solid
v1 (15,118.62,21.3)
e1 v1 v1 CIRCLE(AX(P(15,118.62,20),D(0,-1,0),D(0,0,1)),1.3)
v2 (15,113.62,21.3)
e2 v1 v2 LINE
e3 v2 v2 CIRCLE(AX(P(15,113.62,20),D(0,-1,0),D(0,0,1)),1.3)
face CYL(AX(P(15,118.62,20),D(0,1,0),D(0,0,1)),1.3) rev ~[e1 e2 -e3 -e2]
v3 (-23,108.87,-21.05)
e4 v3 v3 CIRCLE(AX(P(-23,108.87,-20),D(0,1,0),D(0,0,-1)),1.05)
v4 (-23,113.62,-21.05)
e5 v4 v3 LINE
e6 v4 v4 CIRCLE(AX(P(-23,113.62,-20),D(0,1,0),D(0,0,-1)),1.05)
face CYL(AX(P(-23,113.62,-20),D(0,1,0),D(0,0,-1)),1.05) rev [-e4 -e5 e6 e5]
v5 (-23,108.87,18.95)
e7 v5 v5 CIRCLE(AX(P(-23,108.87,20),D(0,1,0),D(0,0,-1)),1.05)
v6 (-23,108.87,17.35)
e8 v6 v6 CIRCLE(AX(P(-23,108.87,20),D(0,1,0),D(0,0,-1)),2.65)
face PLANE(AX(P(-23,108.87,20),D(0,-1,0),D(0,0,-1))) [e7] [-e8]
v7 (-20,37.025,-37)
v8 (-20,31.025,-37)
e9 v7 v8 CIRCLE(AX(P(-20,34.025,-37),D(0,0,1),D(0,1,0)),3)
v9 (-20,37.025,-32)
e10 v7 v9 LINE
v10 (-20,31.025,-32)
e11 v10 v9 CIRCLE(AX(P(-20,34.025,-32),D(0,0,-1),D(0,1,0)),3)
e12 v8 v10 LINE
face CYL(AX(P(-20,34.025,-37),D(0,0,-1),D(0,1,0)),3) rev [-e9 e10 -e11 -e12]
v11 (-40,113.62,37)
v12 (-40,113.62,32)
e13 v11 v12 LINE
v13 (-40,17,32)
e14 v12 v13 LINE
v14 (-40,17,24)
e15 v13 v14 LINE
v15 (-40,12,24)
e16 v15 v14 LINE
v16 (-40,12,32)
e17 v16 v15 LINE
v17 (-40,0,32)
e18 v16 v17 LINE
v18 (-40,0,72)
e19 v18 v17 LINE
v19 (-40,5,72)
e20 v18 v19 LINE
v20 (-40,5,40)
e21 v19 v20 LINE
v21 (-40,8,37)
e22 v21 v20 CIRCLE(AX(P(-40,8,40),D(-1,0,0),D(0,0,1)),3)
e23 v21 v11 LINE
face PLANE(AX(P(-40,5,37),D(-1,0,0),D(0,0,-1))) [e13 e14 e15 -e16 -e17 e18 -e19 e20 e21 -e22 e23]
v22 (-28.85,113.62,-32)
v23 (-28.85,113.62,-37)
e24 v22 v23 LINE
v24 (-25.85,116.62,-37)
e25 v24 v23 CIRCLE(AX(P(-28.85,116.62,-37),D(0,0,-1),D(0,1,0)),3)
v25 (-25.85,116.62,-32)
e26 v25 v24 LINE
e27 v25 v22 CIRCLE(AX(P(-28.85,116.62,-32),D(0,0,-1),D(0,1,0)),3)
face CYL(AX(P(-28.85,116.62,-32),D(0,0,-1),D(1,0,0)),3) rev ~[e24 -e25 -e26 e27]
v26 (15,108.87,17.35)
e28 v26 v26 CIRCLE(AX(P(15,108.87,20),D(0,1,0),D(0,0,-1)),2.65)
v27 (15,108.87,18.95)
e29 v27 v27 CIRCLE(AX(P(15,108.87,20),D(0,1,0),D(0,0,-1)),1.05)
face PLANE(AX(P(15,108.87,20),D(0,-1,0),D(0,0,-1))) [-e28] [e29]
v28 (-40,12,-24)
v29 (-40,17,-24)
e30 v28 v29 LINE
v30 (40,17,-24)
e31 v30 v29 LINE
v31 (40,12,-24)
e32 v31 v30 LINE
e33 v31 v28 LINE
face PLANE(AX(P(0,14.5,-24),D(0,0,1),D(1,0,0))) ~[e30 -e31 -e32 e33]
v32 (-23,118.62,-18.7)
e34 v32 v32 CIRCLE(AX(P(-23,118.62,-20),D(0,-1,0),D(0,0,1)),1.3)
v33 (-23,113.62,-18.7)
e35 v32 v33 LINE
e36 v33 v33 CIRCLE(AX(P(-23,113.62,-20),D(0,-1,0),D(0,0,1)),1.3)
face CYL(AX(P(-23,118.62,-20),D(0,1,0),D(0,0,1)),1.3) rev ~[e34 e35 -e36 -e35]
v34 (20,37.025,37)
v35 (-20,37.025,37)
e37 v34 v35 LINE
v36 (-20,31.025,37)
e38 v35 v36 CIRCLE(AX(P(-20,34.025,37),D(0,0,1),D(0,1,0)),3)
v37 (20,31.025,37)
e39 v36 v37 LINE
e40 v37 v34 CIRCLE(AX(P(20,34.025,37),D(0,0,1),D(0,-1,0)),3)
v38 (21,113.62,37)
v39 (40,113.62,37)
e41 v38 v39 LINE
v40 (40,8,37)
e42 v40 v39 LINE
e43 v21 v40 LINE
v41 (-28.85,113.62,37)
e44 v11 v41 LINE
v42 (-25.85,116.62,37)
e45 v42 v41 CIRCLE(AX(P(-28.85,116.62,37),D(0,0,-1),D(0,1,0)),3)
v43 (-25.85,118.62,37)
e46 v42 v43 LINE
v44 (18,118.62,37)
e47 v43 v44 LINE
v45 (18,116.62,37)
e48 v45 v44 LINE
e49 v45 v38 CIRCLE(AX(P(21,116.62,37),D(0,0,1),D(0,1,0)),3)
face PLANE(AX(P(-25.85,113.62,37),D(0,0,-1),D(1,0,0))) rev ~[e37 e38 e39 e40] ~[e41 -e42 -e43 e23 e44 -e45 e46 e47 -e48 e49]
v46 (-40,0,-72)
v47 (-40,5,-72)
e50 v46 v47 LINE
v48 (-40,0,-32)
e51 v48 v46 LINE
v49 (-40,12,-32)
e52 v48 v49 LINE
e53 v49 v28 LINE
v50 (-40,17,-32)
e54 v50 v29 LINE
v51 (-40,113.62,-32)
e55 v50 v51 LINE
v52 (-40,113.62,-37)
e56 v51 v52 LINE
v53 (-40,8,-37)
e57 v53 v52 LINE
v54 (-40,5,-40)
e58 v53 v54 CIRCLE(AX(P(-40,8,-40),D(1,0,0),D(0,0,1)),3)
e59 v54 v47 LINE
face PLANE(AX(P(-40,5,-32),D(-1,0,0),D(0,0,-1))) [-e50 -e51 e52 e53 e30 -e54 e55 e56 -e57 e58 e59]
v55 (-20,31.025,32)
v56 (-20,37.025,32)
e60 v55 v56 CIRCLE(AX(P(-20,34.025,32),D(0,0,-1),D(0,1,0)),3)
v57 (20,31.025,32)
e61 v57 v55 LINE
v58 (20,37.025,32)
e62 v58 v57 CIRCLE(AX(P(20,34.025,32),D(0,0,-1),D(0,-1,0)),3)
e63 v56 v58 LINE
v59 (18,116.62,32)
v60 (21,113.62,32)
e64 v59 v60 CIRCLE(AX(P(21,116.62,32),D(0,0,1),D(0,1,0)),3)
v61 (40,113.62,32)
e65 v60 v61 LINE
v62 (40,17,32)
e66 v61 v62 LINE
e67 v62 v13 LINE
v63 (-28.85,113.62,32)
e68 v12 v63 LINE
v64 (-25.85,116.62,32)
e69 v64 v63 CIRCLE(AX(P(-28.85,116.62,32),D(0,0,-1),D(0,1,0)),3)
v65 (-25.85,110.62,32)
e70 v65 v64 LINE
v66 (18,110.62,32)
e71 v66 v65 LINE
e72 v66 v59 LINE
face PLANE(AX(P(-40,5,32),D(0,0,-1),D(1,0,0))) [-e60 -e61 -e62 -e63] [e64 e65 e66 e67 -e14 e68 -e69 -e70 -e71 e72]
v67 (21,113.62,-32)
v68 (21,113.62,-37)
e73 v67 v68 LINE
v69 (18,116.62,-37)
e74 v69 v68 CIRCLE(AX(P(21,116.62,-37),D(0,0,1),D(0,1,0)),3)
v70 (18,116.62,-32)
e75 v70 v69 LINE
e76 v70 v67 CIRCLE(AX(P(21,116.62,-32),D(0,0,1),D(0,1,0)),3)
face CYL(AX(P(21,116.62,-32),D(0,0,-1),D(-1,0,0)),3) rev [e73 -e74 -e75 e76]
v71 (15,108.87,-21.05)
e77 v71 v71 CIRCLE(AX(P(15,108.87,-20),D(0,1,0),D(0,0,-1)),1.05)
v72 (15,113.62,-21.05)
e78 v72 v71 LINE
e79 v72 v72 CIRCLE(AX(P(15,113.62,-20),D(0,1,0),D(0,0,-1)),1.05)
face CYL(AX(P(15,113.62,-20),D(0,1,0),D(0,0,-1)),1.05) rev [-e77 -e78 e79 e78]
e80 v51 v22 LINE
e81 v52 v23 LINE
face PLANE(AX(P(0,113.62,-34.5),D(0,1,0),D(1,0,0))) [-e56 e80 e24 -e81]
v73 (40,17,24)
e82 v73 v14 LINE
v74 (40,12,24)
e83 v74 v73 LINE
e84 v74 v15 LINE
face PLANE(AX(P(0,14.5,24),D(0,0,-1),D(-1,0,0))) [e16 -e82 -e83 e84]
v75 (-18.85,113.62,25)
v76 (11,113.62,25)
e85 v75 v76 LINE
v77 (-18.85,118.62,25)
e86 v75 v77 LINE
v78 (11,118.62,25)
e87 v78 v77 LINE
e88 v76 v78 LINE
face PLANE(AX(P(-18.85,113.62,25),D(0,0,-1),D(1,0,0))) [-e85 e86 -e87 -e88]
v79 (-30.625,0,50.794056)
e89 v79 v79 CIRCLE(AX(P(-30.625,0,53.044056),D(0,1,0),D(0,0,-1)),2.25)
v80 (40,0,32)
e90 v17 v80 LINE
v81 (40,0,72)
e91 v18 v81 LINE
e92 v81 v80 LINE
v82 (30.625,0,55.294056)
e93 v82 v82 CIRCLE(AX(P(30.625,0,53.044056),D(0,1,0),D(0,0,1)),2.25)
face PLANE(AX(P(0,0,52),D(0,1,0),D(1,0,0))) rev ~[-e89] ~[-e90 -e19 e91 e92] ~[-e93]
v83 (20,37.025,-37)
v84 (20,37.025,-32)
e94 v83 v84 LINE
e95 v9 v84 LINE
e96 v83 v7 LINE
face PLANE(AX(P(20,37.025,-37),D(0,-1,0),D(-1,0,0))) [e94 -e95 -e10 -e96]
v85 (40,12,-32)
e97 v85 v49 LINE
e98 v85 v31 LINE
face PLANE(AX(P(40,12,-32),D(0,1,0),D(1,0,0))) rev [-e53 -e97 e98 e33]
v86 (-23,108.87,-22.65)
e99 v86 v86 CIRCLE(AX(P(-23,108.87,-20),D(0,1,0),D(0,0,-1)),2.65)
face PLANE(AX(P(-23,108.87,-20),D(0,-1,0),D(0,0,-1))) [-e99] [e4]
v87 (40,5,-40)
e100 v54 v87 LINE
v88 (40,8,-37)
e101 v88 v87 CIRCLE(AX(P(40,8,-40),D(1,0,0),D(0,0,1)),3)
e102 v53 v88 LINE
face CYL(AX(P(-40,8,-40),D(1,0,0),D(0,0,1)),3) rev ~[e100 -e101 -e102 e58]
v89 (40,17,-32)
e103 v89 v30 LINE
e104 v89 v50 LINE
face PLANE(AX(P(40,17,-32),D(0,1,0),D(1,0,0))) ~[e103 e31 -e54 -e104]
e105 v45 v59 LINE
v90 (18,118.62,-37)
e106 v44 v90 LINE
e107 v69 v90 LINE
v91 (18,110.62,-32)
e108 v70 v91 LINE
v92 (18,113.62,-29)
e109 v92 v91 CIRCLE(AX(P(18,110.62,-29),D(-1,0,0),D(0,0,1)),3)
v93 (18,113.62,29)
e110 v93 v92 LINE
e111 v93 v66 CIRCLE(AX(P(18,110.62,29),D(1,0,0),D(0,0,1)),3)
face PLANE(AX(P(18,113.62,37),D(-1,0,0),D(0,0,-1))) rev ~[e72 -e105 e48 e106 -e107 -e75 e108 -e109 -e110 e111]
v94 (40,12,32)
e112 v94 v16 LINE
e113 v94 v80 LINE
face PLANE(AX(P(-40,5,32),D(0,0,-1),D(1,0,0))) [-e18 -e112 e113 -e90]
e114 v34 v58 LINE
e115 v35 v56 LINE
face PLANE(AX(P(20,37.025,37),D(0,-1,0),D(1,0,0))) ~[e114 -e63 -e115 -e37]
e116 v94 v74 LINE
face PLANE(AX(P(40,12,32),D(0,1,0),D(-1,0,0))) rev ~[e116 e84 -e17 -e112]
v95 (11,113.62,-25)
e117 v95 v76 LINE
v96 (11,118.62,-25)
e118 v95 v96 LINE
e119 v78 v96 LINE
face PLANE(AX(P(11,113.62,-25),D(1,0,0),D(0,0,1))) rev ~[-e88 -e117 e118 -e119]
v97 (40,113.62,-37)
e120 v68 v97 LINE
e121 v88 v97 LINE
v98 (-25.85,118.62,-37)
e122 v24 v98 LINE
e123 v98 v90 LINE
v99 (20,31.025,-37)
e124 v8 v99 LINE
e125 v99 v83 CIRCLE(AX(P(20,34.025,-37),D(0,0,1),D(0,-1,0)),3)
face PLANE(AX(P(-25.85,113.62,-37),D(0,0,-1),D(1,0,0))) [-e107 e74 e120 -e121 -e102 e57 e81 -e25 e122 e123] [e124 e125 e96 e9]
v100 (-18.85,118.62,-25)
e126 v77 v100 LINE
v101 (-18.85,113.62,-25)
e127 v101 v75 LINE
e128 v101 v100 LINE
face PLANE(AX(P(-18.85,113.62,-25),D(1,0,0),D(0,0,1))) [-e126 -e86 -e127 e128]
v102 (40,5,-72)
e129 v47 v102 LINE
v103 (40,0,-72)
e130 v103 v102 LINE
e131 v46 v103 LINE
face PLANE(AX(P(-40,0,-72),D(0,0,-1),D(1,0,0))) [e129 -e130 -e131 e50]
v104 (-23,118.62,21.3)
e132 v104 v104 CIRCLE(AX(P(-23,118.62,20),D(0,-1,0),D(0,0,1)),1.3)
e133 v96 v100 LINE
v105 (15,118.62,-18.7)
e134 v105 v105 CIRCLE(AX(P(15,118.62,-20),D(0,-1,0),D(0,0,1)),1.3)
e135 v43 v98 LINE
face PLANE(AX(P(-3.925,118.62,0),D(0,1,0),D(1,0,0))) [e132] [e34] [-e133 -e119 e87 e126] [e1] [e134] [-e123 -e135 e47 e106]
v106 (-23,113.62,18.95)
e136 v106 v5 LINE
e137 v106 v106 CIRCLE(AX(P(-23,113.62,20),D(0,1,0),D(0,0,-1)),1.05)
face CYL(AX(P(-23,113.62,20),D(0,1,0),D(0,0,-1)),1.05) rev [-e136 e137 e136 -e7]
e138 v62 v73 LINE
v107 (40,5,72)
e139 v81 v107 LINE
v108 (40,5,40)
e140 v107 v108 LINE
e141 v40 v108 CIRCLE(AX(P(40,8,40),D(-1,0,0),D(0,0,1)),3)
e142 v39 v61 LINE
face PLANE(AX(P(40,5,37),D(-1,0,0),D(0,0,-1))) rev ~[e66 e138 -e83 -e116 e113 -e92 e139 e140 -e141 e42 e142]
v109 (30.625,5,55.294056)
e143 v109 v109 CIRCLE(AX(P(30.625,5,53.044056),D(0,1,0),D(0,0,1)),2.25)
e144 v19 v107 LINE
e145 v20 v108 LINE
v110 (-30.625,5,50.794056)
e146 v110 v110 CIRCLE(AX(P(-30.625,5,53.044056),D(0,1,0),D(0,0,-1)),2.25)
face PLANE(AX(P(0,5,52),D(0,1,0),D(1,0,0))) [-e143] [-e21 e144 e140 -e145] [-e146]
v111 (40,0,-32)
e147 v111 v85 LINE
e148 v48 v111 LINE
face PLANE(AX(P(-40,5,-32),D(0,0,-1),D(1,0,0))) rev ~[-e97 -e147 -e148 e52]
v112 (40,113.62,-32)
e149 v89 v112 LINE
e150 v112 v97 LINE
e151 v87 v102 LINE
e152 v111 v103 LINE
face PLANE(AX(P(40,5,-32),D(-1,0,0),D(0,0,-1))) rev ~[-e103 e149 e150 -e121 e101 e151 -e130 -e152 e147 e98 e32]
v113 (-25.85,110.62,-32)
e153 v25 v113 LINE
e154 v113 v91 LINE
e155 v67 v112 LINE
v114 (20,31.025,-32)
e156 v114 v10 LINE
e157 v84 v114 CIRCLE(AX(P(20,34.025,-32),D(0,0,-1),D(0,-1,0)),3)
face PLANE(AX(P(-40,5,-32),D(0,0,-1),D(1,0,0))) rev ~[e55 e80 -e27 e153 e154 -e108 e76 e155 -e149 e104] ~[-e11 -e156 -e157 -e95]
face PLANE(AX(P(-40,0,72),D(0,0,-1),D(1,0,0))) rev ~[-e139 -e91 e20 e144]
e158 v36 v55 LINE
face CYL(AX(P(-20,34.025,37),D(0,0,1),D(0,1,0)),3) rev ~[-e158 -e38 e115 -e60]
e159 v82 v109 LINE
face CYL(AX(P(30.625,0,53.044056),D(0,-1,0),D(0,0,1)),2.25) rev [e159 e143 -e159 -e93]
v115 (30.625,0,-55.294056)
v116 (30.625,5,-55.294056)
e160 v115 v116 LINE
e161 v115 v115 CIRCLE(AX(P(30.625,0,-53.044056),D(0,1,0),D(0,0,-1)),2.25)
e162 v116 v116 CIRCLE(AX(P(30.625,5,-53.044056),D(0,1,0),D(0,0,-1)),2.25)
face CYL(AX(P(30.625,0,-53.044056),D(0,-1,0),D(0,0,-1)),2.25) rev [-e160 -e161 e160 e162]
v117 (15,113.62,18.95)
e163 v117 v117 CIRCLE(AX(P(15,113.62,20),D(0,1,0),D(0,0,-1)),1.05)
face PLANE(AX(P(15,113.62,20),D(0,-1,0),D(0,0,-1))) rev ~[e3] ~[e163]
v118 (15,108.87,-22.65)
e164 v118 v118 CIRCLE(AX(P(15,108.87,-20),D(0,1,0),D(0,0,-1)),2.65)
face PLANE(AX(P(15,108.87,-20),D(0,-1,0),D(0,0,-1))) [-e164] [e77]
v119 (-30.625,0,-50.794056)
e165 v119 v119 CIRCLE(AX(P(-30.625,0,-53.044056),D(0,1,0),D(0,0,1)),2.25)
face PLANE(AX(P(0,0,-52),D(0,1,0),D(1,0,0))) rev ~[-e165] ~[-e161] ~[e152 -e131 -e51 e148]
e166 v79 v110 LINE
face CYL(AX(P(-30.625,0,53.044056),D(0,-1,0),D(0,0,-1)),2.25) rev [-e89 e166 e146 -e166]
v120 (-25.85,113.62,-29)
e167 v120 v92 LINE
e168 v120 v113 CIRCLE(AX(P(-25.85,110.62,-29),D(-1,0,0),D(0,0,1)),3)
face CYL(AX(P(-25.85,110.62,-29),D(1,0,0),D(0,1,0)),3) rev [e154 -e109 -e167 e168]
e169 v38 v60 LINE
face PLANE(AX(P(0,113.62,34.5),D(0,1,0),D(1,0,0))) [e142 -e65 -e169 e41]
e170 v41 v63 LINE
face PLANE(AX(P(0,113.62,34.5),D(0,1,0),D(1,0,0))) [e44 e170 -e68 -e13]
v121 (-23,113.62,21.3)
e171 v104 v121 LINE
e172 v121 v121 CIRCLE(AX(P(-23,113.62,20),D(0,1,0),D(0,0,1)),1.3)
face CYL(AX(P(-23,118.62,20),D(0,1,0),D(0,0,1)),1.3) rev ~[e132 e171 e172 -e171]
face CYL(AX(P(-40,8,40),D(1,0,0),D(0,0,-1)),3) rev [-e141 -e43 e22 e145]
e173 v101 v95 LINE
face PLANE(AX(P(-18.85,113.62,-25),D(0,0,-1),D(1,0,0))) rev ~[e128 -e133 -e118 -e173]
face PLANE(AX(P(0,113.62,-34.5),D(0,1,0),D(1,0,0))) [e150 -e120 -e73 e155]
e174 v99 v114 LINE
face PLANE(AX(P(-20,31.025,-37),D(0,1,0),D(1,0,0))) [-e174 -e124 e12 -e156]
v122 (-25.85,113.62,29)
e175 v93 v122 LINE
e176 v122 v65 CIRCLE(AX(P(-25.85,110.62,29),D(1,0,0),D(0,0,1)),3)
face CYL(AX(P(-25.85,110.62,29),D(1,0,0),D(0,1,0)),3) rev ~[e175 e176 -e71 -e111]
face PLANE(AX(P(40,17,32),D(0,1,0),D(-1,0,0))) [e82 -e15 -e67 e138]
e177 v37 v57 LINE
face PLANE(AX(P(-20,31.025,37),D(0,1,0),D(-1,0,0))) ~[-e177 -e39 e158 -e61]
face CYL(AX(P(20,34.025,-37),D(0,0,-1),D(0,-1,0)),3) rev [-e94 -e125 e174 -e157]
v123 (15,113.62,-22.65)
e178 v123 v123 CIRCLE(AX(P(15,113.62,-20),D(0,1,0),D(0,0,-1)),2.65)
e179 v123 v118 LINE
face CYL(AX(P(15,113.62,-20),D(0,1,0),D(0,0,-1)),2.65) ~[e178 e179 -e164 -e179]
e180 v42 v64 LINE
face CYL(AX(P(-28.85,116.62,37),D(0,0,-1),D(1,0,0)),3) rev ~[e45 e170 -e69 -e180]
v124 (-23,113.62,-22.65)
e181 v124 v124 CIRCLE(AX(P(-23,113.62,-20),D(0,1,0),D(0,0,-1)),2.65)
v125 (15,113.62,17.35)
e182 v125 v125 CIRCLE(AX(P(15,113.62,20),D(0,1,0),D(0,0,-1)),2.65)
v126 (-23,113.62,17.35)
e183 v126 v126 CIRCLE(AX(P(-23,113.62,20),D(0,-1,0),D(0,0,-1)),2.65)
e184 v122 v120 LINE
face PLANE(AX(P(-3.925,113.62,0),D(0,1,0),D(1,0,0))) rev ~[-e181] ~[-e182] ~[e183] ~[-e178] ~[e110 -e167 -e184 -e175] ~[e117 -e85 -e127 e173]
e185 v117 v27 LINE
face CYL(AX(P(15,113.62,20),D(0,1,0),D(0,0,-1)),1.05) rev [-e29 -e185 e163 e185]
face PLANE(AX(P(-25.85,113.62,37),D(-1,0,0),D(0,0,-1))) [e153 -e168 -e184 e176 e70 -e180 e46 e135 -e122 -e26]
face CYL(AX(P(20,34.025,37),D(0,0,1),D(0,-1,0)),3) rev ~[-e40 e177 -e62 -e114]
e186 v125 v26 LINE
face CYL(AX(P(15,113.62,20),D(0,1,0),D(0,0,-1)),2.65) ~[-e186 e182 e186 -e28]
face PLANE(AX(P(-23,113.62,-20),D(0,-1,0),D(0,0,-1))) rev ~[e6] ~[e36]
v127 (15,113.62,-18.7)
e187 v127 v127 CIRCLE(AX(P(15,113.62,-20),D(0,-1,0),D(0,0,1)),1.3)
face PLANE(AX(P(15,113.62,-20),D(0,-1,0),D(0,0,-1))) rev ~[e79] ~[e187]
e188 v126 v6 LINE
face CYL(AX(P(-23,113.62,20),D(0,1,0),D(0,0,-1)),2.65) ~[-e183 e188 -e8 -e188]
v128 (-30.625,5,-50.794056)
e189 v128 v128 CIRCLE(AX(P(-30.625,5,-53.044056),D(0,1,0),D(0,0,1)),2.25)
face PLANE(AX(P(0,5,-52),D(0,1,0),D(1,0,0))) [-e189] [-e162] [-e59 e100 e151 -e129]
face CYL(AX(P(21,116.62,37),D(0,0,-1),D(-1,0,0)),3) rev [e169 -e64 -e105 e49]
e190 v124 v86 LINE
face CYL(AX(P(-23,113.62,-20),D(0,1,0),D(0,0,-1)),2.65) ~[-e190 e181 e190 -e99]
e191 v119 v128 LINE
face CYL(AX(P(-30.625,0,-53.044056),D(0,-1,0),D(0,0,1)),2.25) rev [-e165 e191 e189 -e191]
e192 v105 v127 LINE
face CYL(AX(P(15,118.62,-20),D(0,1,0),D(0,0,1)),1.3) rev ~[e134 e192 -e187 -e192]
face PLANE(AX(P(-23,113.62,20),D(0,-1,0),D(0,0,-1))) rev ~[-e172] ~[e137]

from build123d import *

# Parameters (mm, degrees)
SKETCH1_W             = 80
SKETCH1_H             = 40
SKETCH1_R             = 2.25
BOSS_EXTRUDE1_DEPTH   = 5
BOSS_EXTRUDE1_2_DEPTH = 5
SKETCH2_W             = 80
SKETCH2_H             = 5
BOSS_EXTRUDE2_DEPTH   = 108.62
SKETCH3_W             = 43.85
SKETCH3_H             = 74
BOSS_EXTRUDE3_DEPTH   = 5
SKETCH5_W             = 29.85
SKETCH5_H             = 50
CUT_EXTRUDE2_DEPTH    = 10
CUT_EXTRUDE1_REACH    = 146.412
SKETCH4_R             = 1.3
FILLET1_R             = 3
FILLET2_R             = 3
SKETCH9_R             = 2.65
SKETCH9_R_2           = 1.05
BOSS_EXTRUDE5_DEPTH   = 4.75
SKETCH10_W            = 12
SKETCH10_H            = 6.8
CUT_EXTRUDE4_DEPTH    = 8
SKETCH11_W            = 80
SKETCH11_H            = 5
BOSS_EXTRUDE6_DEPTH   = 8
CUT_EXTRUDE5_REACH    = 167.987


with BuildPart() as part:
    # Sketch1 → Boss-Extrude1 (new body)
    with BuildSketch(Plane(origin=(0, 0, 0), x_dir=(1, 0, 0), z_dir=(0, 1, 0))):
        with Locations((0, 52)):
            Rectangle(SKETCH1_W, SKETCH1_H)
        with Locations(Location((-30.625, 53.044055982, 0), (0, 0, 270))):
            Circle(SKETCH1_R, mode=Mode.SUBTRACT)
        with Locations(Location((30.625, 53.044055982, 0), (0, 0, 90))):
            Circle(SKETCH1_R, mode=Mode.SUBTRACT)
    extrude(amount=BOSS_EXTRUDE1_DEPTH)



with BuildPart() as body_2:
    # Sketch1 → Boss-Extrude1 2 (new body)
    with BuildSketch(Plane(origin=(0, 0, 0), x_dir=(1, 0, 0), z_dir=(0, 1, 0))):
        with Locations((0, -52)):
            Rectangle(SKETCH1_W, SKETCH1_H)
        with Locations(Location((30.625, -53.044055982, 0), (0, 0, 270))):
            Circle(SKETCH1_R, mode=Mode.SUBTRACT)
        with Locations(Location((-30.625, -53.044055982, 0), (0, 0, 90))):
            Circle(SKETCH1_R, mode=Mode.SUBTRACT)
    extrude(amount=BOSS_EXTRUDE1_2_DEPTH)


with BuildPart() as part_1:
    add(part.part)

    add(body_2.part)  # Boss-Extrude2 merges body 2
    # Sketch2 → Boss-Extrude2 (add)
    with BuildSketch(Plane(origin=(0, 5, 0), x_dir=(1, 0, 0), z_dir=(0, 1, 0))):
        with Locations((0, 34.5)):
            Rectangle(SKETCH2_W, SKETCH2_H)
        with Locations((0, -34.5)):
            Rectangle(SKETCH2_W, SKETCH2_H)
    extrude(amount=BOSS_EXTRUDE2_DEPTH)

    # Sketch3 → Boss-Extrude3 (add)
    with BuildSketch(Plane(origin=(0, 113.62, 0), x_dir=(1, 0, 0), z_dir=(0, 1, 0))):
        with Locations((-3.925, 0)):
            Rectangle(SKETCH3_W, SKETCH3_H)
    extrude(amount=BOSS_EXTRUDE3_DEPTH)

    # Sketch5 → Cut-Extrude2 (cut)
    with BuildSketch(Plane.XZ.offset(-113.62)):
        with Locations((-3.925, 0)):
            Rectangle(SKETCH5_W, SKETCH5_H)
    extrude(amount=-CUT_EXTRUDE2_DEPTH, mode=Mode.SUBTRACT)

    # Sketch4 → Cut-Extrude1 (cut, up to next)
    with BuildSketch(Plane(origin=(0, 118.62, 0), x_dir=(1, 0, 0), z_dir=(0, 1, 0)), mode=Mode.PRIVATE) as cut_extrude1_sk1:
        with Locations(Location((-23, 20, 0), (0, 0, 270))):
            Circle(SKETCH4_R)
    cut_extrude1_tool1 = extrude(cut_extrude1_sk1.sketch, amount=-CUT_EXTRUDE1_REACH, mode=Mode.PRIVATE) & part_1.part
    # Sketch4 → Cut-Extrude1 (cut, up to next)
    with BuildSketch(Plane(origin=(0, 118.62, 0), x_dir=(1, 0, 0), z_dir=(0, 1, 0)), mode=Mode.PRIVATE) as cut_extrude1_sk2:
        with Locations(Location((15, 20, 0), (0, 0, 270))):
            Circle(SKETCH4_R)
    cut_extrude1_tool2 = extrude(cut_extrude1_sk2.sketch, amount=-CUT_EXTRUDE1_REACH, mode=Mode.PRIVATE) & part_1.part
    # Sketch4 → Cut-Extrude1 (cut, up to next)
    with BuildSketch(Plane(origin=(0, 118.62, 0), x_dir=(1, 0, 0), z_dir=(0, 1, 0)), mode=Mode.PRIVATE) as cut_extrude1_sk3:
        with Locations(Location((15, -20, 0), (0, 0, 270))):
            Circle(SKETCH4_R)
    cut_extrude1_tool3 = extrude(cut_extrude1_sk3.sketch, amount=-CUT_EXTRUDE1_REACH, mode=Mode.PRIVATE) & part_1.part
    # Sketch4 → Cut-Extrude1 (cut, up to next)
    with BuildSketch(Plane(origin=(0, 118.62, 0), x_dir=(1, 0, 0), z_dir=(0, 1, 0)), mode=Mode.PRIVATE) as cut_extrude1_sk4:
        with Locations(Location((-23, -20, 0), (0, 0, 270))):
            Circle(SKETCH4_R)
    cut_extrude1_tool4 = extrude(cut_extrude1_sk4.sketch, amount=-CUT_EXTRUDE1_REACH, mode=Mode.PRIVATE) & part_1.part
    add(cut_extrude1_tool1.solids().sort_by_distance((-23, 118.62, -20))[0], mode=Mode.SUBTRACT)
    add(cut_extrude1_tool2.solids().sort_by_distance((15, 118.62, -20))[0], mode=Mode.SUBTRACT)
    add(cut_extrude1_tool3.solids().sort_by_distance((15, 118.62, 20))[0], mode=Mode.SUBTRACT)
    add(cut_extrude1_tool4.solids().sort_by_distance((-23, 118.62, 20))[0], mode=Mode.SUBTRACT)

    # Fillet1
    fillet1_edges = [part_1.edges().sort_by_distance(p)[0] for p in [
        (0, 5, -37),
        (-3.925, 113.62, -32),
        (-3.925, 113.62, 32),
        (0, 5, 37),
    ]]
    fillet(fillet1_edges, radius=FILLET1_R)

    # Fillet2
    fillet2_edges = [part_1.edges().sort_by_distance(p)[0] for p in [
        (18, 113.62, -34.5),
        (-25.85, 113.62, -34.5),
        (-25.85, 113.62, 34.5),
        (18, 113.62, 34.5),
    ]]
    fillet(fillet2_edges, radius=FILLET2_R)

    # Sketch9 → Boss-Extrude5 (add)
    # profile 1 of 4: a face of its own
    with BuildSketch(Plane.XZ.offset(-113.62)):
        with Locations(Location((-23, 20, 0), (0, 0, 270))):
            Circle(SKETCH9_R)
        with Locations(Location((-23, 20, 0), (0, 0, 270))):
            Circle(SKETCH9_R_2, mode=Mode.SUBTRACT)
    # profile 2 of 4: a face of its own
    with BuildSketch(Plane.XZ.offset(-113.62)):
        with Locations(Location((-23, -20, 0), (0, 0, 270))):
            Circle(SKETCH9_R)
        with Locations(Location((-23, -20, 0), (0, 0, 270))):
            Circle(SKETCH9_R_2, mode=Mode.SUBTRACT)
    # profile 3 of 4: a face of its own
    with BuildSketch(Plane.XZ.offset(-113.62)):
        with Locations(Location((15, 20, 0), (0, 0, 270))):
            Circle(SKETCH9_R)
        with Locations(Location((15, 20, 0), (0, 0, 270))):
            Circle(SKETCH9_R_2, mode=Mode.SUBTRACT)
    # profile 4 of 4: a face of its own
    with BuildSketch(Plane.XZ.offset(-113.62)):
        with Locations(Location((15, -20, 0), (0, 0, 270))):
            Circle(SKETCH9_R)
        with Locations(Location((15, -20, 0), (0, 0, 270))):
            Circle(SKETCH9_R_2, mode=Mode.SUBTRACT)
    extrude(amount=BOSS_EXTRUDE5_DEPTH)

    # Sketch10 → Cut-Extrude4 (cut)
    with BuildSketch(Plane.XY.offset(37)):
        with Locations((6.7, 110.77)):
            Rectangle(SKETCH10_W, SKETCH10_H)
    extrude(amount=-CUT_EXTRUDE4_DEPTH, mode=Mode.SUBTRACT)

    # Sketch11 → Boss-Extrude6 (add)
    with BuildSketch(Plane(origin=(0, 0, 32), x_dir=(-1, 0, 0), z_dir=(0, 0, -1))):
        with Locations((0, 14.5)):
            Rectangle(SKETCH11_W, SKETCH11_H)
    extrude(amount=BOSS_EXTRUDE6_DEPTH)

    # Mirror3: part across plane


with BuildPart() as part_2:
    add(part_1.part)
    add(part_1.part.mirror(Plane.XY))

    # Sketch12 → Cut-Extrude5 (cut, up to next)
    with BuildSketch(Plane(origin=(0, 0, -37), x_dir=(-1, 0, 0), z_dir=(0, 0, -1)), mode=Mode.PRIVATE) as cut_extrude5_sk1:
        with BuildLine():
            Line((20, 31.025), (-20, 31.025))
            ThreePointArc((-20, 31.025), (-23, 34.025), (-20, 37.025))
            Line((-20, 37.025), (20, 37.025))
            ThreePointArc((20, 37.025), (23, 34.025), (20, 31.025))
        make_face()
    cut_extrude5_tool1 = extrude(cut_extrude5_sk1.sketch, amount=-CUT_EXTRUDE5_REACH, mode=Mode.PRIVATE) & part_2.part
    cut_extrude5 = cut_extrude5_tool1.solids().sort_by_distance((0, 34.025, -37))[0]
    add(cut_extrude5, mode=Mode.SUBTRACT)

    # Mirror4: Cut-Extrude5 across plane
    add(cut_extrude5.mirror(Plane.XY), mode=Mode.SUBTRACT)


solid = part_2.part
